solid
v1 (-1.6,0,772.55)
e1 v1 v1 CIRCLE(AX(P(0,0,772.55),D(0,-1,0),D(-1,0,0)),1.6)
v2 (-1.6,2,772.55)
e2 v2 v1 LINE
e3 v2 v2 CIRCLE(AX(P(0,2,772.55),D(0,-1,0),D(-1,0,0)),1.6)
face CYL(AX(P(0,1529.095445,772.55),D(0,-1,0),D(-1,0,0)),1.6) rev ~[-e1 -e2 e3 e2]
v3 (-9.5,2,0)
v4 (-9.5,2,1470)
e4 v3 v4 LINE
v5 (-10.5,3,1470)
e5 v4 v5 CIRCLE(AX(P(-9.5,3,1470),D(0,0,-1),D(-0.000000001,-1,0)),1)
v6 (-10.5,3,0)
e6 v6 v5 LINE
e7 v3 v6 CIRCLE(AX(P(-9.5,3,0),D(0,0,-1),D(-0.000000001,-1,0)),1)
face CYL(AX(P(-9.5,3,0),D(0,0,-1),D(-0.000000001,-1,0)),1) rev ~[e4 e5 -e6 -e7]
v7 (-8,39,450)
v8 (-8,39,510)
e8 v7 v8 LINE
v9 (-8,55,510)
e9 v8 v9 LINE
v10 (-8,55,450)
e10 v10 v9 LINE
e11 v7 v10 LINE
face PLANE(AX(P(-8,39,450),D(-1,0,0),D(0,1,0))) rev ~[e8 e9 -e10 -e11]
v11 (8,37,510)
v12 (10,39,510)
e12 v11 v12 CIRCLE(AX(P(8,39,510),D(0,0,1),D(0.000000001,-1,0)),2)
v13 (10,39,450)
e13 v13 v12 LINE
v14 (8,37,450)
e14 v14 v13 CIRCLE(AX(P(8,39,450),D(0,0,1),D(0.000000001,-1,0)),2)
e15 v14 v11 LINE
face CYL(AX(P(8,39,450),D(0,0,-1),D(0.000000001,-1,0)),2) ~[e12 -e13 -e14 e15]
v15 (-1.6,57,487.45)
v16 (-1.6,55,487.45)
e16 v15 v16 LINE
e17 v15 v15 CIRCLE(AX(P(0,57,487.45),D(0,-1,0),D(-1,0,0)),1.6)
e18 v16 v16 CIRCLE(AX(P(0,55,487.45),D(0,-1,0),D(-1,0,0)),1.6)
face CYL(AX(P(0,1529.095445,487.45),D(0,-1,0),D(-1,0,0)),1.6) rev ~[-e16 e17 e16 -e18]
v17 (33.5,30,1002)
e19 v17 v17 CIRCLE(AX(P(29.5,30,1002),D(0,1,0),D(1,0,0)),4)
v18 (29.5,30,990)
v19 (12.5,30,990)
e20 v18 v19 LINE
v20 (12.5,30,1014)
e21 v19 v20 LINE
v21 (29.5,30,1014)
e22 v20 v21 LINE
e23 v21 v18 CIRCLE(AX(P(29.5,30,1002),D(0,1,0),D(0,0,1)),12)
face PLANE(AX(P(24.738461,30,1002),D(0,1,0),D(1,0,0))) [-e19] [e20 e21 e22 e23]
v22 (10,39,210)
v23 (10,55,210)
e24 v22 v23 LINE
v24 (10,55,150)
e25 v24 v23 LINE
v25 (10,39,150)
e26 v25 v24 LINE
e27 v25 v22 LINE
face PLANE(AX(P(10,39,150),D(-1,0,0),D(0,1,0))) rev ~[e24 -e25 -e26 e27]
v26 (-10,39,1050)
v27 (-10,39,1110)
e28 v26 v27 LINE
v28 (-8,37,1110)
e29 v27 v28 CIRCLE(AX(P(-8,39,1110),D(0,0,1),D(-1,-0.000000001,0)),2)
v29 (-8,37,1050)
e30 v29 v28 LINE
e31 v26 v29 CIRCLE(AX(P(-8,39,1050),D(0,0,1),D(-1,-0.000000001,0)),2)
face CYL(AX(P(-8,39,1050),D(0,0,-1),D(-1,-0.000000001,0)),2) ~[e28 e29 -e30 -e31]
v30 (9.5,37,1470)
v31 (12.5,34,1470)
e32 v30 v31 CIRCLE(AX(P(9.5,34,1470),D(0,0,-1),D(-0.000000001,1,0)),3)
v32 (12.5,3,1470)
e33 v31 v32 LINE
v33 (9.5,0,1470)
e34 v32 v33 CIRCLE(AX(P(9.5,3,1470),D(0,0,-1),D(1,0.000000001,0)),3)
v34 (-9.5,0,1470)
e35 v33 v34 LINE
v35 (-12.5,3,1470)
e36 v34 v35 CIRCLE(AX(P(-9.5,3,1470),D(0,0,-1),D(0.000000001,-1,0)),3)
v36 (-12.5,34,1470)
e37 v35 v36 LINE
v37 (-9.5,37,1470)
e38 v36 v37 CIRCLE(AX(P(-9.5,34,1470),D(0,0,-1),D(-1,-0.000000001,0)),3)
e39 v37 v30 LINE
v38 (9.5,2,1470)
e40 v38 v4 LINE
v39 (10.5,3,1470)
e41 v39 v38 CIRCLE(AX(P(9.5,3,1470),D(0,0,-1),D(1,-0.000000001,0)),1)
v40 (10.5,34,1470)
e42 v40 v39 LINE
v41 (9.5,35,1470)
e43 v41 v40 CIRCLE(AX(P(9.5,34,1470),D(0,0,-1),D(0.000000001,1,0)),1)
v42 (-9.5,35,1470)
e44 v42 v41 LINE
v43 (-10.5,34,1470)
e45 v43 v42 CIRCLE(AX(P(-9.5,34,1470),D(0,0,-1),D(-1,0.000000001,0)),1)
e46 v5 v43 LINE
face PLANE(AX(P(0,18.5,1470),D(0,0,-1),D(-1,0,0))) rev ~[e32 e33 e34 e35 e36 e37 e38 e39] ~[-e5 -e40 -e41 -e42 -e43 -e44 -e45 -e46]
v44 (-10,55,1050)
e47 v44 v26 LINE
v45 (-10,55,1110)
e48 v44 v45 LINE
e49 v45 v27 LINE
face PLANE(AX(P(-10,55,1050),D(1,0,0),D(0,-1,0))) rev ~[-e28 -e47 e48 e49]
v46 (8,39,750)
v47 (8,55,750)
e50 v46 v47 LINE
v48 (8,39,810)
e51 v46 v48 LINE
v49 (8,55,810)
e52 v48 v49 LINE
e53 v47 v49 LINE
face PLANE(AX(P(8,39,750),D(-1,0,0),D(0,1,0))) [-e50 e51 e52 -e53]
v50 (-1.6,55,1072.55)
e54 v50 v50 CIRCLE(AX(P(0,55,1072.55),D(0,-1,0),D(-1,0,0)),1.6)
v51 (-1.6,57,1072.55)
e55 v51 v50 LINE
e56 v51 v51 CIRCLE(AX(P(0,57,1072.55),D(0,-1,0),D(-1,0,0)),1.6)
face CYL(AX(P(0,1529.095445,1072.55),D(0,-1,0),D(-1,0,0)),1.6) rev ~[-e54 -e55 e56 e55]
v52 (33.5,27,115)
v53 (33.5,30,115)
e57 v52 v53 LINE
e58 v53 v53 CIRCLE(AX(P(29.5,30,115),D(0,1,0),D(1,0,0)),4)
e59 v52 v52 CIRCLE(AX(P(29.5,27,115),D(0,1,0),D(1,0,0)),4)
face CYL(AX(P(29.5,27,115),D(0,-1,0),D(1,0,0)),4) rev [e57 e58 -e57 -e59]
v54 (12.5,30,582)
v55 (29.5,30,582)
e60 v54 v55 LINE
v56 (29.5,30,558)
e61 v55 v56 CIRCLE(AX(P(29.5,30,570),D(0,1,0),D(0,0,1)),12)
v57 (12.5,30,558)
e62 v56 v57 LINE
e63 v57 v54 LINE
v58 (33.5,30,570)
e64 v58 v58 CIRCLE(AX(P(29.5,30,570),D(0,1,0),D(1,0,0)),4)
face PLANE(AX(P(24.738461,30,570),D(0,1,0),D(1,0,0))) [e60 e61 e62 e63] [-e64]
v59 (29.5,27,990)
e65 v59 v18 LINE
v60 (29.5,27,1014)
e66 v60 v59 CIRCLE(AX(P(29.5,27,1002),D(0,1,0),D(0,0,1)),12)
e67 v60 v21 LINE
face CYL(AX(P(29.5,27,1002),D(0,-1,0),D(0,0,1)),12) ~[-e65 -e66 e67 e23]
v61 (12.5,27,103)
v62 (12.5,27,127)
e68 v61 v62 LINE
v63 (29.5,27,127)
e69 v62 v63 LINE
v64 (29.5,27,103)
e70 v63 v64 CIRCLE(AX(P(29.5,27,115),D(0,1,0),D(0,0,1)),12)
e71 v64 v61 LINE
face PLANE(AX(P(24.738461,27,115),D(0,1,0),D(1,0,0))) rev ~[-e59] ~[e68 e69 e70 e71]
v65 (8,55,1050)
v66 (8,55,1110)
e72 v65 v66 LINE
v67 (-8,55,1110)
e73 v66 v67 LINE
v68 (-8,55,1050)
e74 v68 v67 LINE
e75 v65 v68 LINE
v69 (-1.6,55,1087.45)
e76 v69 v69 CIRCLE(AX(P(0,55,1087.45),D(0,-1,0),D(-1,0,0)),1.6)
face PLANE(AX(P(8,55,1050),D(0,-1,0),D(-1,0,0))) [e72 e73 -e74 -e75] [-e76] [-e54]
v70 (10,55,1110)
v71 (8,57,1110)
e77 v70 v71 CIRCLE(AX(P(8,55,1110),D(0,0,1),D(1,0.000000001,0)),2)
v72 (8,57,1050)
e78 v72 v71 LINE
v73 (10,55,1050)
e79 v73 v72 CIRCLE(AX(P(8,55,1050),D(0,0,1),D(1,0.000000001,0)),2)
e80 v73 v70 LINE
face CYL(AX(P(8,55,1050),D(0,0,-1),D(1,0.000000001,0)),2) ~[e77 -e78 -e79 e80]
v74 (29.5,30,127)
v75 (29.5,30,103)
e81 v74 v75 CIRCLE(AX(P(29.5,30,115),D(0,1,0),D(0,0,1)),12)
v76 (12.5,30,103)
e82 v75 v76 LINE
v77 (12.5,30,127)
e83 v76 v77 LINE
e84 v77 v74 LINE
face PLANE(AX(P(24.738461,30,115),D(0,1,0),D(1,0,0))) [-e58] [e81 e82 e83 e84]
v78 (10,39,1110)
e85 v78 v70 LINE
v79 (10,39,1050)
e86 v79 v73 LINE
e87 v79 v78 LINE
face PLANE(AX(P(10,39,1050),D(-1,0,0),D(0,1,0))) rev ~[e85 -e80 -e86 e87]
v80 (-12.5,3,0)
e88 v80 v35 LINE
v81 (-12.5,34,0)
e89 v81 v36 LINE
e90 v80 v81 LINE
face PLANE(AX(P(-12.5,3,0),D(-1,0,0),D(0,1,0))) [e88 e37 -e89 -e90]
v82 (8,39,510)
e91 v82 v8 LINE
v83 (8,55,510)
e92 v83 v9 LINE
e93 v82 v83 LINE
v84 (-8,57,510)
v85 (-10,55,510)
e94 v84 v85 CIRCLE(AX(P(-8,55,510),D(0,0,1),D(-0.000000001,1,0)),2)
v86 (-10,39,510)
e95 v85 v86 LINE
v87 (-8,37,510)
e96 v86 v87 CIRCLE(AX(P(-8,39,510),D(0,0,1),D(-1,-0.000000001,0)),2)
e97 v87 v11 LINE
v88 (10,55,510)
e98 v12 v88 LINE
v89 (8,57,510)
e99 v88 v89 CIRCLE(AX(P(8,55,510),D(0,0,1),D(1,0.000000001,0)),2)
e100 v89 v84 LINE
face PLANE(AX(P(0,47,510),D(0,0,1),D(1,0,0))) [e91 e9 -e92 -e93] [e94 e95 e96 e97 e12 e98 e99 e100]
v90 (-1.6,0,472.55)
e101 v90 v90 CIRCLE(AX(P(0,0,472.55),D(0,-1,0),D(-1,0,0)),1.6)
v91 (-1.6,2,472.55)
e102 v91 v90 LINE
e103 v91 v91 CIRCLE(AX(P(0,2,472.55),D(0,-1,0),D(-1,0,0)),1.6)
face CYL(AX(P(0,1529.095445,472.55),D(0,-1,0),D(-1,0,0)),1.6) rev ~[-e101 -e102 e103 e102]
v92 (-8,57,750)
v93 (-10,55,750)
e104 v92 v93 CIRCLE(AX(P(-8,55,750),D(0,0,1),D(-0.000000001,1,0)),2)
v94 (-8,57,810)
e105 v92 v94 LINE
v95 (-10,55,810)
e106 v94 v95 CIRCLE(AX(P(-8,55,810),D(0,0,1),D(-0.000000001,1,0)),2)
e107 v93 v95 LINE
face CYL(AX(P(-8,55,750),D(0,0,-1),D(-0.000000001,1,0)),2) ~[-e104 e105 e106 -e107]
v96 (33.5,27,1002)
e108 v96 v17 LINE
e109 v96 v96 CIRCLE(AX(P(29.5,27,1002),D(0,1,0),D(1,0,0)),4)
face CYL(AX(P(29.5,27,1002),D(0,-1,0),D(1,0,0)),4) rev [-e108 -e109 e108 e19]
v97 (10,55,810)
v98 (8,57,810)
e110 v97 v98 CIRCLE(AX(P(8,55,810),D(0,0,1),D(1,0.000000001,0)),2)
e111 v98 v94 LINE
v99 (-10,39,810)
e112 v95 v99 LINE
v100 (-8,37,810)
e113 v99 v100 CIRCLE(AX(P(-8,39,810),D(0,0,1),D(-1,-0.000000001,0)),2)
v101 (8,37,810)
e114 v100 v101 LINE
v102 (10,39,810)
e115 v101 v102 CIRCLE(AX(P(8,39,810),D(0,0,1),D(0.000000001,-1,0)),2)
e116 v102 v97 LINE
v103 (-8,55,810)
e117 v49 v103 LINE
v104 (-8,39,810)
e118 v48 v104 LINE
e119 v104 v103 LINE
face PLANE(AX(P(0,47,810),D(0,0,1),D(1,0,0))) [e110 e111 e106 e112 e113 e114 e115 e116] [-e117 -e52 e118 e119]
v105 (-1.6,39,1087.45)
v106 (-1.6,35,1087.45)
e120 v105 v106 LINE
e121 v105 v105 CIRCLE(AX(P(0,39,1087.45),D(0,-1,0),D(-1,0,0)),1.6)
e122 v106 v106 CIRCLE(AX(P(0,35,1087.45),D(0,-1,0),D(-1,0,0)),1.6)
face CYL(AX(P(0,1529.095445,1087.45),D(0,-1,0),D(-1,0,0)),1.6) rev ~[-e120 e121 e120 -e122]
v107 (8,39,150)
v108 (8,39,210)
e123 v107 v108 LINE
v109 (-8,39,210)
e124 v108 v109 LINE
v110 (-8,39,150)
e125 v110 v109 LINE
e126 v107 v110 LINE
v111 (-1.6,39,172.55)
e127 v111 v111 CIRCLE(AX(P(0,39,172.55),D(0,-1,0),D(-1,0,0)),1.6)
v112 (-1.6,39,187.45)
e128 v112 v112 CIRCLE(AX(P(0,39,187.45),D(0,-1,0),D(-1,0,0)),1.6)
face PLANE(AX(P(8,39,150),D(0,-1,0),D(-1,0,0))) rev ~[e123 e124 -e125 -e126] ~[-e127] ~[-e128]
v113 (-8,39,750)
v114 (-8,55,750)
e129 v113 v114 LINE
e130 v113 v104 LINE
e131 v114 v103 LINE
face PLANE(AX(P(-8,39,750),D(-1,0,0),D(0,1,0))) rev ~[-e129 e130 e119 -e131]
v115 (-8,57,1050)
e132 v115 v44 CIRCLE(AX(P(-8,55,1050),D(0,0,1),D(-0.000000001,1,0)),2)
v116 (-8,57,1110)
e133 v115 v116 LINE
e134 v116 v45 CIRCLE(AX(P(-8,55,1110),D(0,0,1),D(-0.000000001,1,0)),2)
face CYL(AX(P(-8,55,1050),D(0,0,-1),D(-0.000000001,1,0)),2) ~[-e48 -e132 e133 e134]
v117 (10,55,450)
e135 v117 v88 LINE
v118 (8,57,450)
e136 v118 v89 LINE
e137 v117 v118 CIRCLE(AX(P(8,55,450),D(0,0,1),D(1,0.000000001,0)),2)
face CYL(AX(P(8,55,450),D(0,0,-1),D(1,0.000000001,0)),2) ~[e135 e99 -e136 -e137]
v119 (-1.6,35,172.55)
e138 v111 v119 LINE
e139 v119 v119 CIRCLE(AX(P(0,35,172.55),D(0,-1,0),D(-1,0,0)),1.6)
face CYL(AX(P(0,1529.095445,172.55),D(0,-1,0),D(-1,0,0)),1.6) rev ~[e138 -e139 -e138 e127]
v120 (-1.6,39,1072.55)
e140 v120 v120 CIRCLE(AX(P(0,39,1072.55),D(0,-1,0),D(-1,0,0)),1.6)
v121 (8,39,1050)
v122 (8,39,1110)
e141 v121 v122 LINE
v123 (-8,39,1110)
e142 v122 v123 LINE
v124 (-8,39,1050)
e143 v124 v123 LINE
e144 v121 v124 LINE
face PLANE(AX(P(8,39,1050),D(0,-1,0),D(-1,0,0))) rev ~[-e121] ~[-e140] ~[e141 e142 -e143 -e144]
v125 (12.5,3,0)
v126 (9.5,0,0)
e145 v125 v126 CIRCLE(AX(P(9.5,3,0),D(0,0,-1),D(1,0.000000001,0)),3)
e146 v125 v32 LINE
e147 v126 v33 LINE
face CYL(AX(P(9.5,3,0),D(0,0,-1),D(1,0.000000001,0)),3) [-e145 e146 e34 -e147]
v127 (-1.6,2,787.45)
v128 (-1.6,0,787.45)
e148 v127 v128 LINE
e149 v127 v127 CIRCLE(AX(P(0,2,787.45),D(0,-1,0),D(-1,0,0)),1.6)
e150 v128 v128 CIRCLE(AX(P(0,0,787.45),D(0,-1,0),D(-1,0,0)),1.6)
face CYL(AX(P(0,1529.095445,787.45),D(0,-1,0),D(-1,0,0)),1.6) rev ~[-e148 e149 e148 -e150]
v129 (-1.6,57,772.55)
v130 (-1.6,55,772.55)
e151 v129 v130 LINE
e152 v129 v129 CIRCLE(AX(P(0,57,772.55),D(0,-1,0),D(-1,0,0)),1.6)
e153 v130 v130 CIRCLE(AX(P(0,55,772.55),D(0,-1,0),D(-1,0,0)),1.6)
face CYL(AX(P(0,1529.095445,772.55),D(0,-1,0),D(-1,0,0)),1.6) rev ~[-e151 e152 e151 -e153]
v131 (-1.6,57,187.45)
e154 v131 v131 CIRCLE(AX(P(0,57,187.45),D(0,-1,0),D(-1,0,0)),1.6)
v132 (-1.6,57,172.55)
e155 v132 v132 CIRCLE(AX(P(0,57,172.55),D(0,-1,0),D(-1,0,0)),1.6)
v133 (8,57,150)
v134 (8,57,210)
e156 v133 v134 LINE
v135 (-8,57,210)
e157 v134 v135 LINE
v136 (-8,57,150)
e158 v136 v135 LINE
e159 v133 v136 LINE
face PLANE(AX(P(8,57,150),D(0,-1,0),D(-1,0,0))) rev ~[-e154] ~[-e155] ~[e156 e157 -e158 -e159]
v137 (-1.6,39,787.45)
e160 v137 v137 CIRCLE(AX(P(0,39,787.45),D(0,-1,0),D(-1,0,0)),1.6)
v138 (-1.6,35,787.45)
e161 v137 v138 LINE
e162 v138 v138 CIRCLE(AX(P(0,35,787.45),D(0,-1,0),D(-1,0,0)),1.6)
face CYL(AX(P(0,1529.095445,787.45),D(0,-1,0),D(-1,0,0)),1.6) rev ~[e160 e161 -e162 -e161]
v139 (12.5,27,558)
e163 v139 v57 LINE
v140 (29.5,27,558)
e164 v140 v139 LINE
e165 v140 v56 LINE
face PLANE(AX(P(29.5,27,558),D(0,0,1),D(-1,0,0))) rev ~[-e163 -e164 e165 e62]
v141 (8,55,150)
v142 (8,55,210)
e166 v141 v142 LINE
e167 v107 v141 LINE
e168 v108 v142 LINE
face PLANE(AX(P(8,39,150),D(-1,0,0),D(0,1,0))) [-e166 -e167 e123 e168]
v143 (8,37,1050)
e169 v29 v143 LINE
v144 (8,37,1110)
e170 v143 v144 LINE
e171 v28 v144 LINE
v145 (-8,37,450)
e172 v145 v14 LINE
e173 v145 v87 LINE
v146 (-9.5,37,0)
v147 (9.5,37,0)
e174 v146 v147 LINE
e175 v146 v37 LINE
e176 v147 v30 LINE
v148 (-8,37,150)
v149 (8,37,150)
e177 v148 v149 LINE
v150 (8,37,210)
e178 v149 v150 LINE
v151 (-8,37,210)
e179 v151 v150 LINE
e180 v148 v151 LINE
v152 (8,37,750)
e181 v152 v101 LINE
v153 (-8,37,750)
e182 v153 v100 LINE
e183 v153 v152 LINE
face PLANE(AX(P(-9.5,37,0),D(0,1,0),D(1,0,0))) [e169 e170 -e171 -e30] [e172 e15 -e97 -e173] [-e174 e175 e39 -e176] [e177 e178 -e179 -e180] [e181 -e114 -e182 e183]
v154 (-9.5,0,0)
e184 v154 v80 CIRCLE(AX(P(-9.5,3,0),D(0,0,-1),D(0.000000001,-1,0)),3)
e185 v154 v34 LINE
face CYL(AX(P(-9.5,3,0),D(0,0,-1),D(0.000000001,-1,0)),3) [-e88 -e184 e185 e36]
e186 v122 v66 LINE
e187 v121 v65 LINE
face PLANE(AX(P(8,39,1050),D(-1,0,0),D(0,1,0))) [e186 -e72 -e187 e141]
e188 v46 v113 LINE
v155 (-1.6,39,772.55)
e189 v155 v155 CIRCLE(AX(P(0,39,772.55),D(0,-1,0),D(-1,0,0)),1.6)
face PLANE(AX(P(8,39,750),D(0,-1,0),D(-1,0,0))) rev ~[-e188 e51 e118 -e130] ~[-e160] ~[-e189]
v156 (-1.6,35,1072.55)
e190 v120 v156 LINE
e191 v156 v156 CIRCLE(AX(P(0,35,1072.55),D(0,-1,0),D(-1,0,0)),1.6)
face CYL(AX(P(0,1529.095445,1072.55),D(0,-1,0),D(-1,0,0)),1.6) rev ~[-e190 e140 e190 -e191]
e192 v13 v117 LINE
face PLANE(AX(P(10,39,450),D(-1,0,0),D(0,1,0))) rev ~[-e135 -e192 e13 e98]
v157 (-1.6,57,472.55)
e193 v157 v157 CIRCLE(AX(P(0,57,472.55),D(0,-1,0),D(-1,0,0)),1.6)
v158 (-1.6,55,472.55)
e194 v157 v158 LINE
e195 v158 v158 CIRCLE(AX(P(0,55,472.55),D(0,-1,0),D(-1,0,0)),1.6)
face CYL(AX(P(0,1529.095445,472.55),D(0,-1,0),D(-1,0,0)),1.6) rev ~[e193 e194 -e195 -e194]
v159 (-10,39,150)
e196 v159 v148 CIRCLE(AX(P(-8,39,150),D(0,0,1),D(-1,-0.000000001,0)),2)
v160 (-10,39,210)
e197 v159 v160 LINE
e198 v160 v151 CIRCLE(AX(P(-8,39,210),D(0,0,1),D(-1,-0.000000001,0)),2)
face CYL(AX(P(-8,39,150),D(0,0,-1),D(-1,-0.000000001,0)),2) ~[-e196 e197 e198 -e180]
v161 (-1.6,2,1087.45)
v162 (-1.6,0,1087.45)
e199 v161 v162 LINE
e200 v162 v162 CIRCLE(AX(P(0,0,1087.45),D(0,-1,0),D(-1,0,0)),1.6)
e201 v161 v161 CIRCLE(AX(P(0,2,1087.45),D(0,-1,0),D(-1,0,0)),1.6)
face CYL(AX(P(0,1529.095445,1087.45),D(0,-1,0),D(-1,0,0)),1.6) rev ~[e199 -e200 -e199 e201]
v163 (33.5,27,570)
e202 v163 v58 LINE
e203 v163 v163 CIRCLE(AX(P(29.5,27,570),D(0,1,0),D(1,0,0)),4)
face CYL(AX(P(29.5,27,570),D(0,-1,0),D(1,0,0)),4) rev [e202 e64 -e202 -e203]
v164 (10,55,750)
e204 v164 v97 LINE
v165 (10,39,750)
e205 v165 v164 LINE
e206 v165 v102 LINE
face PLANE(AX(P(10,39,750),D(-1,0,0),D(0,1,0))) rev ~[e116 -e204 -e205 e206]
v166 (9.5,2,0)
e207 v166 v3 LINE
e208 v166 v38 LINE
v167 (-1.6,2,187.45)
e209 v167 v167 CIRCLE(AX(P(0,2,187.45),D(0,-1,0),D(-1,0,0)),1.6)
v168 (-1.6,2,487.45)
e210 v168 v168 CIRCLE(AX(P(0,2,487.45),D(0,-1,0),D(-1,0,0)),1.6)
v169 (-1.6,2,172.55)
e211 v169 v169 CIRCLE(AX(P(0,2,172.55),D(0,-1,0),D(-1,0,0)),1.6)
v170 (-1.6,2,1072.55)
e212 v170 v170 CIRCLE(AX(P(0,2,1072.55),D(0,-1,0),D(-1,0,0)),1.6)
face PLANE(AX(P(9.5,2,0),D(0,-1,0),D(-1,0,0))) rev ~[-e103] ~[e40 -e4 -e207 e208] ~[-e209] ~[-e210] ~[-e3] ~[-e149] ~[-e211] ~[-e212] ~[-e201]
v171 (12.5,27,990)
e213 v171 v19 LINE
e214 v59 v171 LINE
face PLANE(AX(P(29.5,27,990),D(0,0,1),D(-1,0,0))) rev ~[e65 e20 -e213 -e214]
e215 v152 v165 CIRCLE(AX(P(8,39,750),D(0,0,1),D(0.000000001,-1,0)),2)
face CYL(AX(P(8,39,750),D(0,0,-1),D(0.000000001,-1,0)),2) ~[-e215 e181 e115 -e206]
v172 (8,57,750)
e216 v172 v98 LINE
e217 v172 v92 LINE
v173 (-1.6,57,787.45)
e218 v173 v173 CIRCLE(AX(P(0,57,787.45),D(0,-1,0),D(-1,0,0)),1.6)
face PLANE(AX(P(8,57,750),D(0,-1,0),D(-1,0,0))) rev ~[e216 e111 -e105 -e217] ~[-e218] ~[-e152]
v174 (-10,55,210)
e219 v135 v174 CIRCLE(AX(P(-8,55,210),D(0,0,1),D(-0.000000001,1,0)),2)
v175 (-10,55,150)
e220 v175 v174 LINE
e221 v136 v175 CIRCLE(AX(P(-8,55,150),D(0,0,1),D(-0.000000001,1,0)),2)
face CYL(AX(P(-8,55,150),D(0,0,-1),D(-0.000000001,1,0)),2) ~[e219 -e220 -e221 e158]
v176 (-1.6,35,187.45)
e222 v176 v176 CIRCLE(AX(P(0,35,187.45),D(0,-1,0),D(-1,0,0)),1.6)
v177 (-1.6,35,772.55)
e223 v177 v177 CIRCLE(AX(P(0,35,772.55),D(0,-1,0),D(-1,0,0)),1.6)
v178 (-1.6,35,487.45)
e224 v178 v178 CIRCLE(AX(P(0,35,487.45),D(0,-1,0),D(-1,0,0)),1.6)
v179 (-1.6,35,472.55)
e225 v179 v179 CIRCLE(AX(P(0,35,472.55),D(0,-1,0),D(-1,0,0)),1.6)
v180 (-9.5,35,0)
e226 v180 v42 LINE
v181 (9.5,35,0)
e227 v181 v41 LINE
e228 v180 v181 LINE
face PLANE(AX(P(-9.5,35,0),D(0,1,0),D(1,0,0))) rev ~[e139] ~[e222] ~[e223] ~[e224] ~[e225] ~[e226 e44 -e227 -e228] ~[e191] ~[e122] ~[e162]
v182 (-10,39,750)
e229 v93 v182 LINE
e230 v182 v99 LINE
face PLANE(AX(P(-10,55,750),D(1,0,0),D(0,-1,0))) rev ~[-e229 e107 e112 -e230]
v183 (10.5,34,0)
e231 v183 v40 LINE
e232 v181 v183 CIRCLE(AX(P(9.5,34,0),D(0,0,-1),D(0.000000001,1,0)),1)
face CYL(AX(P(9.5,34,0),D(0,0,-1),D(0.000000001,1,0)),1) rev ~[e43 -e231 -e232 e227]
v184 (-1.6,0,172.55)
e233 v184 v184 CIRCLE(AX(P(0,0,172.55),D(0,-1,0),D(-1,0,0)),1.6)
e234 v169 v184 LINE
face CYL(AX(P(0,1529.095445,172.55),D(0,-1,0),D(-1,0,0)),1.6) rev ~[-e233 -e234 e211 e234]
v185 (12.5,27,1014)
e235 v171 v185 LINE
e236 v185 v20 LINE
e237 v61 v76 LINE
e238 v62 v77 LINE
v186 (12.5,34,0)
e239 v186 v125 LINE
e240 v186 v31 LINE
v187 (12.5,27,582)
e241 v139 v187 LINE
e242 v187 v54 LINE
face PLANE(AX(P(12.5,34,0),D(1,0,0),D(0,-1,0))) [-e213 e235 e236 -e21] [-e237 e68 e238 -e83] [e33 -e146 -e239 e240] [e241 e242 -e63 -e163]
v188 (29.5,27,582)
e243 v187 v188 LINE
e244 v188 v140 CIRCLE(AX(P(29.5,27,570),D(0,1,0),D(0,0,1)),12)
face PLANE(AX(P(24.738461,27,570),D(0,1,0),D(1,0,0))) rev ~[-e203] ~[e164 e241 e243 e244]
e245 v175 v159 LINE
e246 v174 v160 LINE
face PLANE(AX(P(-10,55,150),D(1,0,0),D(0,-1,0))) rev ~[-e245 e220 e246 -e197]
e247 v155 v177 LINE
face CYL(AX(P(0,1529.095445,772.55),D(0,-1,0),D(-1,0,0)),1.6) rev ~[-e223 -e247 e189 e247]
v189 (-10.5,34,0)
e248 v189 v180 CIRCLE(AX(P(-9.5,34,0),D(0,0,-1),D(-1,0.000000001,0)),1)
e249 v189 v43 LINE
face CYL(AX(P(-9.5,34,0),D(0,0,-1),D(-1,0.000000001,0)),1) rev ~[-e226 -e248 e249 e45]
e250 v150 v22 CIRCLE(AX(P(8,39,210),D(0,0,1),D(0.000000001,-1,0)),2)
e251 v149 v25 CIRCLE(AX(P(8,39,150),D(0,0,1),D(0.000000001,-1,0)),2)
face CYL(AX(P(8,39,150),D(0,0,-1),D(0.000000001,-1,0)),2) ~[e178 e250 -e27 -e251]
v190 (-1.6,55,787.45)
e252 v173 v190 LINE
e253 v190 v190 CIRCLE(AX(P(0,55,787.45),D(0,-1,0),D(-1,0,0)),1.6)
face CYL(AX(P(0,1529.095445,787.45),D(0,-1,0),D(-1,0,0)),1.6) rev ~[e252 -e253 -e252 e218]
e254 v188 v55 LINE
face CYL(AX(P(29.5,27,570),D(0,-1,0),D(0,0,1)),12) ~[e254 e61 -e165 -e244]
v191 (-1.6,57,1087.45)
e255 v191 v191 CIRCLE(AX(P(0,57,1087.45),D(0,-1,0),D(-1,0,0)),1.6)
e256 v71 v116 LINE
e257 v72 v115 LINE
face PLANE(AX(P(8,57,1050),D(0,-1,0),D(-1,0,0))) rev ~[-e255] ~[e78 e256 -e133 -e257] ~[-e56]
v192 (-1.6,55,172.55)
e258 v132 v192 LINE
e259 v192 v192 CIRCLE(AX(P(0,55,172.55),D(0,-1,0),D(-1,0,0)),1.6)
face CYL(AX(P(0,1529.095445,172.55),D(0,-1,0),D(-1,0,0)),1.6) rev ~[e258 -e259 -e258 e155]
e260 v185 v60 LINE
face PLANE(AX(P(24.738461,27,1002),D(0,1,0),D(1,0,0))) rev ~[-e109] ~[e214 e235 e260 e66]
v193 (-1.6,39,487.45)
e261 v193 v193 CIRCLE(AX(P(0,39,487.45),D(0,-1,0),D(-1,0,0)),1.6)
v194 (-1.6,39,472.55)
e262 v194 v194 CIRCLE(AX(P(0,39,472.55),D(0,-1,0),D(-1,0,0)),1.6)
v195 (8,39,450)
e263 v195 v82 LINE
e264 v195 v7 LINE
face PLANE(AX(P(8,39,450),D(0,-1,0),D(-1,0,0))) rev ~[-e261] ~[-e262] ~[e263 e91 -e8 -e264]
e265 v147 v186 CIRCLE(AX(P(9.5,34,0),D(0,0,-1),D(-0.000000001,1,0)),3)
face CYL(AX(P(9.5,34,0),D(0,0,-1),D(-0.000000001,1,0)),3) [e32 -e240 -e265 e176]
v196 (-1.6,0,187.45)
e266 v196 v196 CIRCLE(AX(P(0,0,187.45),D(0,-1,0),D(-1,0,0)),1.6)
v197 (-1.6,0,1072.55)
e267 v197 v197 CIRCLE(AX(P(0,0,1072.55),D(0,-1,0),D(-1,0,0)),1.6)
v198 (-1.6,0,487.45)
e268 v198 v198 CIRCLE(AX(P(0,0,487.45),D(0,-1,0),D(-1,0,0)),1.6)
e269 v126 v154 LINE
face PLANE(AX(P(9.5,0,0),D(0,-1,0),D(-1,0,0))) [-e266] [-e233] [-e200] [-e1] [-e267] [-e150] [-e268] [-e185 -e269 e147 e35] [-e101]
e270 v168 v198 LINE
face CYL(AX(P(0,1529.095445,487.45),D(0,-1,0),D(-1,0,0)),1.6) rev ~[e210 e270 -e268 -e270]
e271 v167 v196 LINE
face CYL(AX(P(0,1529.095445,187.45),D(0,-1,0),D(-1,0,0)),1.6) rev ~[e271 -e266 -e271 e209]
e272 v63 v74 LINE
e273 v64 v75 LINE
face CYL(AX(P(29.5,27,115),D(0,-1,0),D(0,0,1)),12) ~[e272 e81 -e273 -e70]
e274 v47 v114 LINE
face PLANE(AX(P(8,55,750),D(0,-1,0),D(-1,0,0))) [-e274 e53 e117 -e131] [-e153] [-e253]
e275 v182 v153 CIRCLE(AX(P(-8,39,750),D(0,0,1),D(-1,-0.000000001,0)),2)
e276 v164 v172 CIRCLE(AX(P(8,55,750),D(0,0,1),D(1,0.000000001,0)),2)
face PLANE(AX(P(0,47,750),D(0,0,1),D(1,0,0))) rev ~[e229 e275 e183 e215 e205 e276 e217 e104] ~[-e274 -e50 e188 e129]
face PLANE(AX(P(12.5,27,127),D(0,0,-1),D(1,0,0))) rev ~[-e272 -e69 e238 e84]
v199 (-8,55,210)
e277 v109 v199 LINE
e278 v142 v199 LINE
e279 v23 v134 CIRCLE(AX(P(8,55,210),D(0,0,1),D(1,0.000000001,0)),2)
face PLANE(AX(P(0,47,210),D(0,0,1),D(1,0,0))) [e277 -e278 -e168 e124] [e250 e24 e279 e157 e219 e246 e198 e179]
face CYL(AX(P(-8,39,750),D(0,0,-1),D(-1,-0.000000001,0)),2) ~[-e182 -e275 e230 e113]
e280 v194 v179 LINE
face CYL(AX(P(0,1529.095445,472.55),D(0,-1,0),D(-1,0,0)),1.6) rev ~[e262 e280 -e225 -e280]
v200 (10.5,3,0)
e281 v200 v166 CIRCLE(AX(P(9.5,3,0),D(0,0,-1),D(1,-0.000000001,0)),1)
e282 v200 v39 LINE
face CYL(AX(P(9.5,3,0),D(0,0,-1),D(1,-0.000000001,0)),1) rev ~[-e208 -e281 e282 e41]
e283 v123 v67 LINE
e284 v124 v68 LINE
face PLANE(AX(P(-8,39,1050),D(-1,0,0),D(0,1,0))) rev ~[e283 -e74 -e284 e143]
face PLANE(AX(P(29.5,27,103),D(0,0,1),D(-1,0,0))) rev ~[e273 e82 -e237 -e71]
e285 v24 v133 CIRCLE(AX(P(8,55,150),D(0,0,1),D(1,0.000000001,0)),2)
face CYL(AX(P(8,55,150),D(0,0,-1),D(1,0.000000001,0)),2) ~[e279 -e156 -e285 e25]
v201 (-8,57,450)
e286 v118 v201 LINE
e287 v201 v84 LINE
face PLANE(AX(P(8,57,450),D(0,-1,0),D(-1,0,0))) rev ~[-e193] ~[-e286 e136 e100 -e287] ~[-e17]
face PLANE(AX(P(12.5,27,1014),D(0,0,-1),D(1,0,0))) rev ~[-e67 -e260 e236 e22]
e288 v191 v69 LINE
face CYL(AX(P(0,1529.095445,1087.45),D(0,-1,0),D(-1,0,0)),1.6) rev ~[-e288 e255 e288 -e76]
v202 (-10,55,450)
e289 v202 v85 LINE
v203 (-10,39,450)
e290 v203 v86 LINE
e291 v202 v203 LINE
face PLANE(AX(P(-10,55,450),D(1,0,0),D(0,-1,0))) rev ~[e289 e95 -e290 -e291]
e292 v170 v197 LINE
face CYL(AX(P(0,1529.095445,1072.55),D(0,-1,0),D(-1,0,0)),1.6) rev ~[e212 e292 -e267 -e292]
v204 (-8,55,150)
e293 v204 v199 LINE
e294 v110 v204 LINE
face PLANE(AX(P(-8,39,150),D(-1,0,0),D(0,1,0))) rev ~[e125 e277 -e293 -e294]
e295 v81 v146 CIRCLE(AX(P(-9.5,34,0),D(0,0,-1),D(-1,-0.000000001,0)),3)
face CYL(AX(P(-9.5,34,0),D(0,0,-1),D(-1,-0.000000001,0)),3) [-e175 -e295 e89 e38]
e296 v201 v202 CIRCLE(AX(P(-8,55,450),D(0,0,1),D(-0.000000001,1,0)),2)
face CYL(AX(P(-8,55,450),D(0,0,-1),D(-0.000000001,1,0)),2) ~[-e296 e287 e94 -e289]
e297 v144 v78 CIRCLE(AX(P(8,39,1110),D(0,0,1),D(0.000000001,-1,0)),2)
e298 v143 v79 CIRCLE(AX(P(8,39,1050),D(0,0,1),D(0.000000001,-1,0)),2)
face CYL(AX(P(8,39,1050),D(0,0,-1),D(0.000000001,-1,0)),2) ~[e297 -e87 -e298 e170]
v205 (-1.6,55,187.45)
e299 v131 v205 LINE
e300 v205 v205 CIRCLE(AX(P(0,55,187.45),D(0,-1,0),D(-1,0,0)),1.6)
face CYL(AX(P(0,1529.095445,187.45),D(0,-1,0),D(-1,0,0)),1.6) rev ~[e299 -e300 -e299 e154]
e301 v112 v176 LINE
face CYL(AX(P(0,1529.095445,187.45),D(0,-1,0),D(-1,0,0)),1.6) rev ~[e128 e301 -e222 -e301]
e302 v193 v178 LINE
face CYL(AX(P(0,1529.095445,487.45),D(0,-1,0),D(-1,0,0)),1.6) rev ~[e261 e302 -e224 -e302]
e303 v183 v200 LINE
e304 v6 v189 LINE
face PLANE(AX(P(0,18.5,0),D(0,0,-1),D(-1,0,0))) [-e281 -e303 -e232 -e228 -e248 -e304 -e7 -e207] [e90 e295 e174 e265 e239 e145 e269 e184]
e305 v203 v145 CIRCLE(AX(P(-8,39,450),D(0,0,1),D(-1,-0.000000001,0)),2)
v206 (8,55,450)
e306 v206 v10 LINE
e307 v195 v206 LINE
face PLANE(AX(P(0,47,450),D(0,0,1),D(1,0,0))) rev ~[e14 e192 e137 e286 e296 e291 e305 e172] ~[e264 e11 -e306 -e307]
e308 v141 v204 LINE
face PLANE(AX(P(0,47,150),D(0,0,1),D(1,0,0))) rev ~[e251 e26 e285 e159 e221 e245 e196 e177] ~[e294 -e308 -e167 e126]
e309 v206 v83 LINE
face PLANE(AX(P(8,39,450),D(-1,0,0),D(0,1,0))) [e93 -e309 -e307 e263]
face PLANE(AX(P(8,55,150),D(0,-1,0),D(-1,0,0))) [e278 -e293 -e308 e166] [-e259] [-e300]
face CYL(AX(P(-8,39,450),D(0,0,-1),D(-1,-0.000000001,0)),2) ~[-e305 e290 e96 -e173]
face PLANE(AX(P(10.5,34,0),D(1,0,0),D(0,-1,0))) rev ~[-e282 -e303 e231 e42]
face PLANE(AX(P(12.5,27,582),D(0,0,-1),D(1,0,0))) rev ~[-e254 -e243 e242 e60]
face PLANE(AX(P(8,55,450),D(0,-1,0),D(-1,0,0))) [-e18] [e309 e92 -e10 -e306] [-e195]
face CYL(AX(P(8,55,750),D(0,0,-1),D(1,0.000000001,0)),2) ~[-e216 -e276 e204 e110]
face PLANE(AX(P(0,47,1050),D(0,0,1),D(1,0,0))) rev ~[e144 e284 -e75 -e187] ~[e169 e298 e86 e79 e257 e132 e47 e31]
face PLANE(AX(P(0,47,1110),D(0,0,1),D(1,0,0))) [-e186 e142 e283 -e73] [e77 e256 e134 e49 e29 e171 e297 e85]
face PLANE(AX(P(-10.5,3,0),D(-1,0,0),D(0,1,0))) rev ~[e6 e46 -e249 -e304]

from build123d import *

# Parameters (mm, degrees)
EXTRUDE_THIN1_DEPTH  = 1470
SKETCH2_R            = 4
BOSS_EXTRUDE1_DEPTH  = 3
SKETCH3_W            = 16
SKETCH3_H            = 16
EXTRUDE_THIN2_DEPTH  = 60
M3_CLEARANCE_HOLE1_D = 3.2
LPATTERN1_COUNT      = 4
LPATTERN1_PITCH      = 300


with BuildPart() as part:
    # Sketch1 → Extrude-Thin1 (new body)
    with BuildSketch(Plane.XY):
        with BuildLine():
            Line((-9.5, 37), (9.5, 37))
            ThreePointArc((9.5, 37), (11.621320344, 36.121320344), (12.5, 34))
            Line((12.5, 34), (12.5, 3))
            ThreePointArc((12.5, 3), (11.621320344, 0.878679656), (9.5, 0))
            Line((9.5, 0), (-9.5, 0))
            ThreePointArc((-9.5, 0), (-11.621320344, 0.878679656), (-12.5, 3))
            Line((-12.5, 3), (-12.5, 34))
            ThreePointArc((-12.5, 34), (-11.621320344, 36.121320344), (-9.5, 37))
        make_face()
        with BuildLine():
            Line((-9.5, 35), (9.5, 35))
            ThreePointArc((9.5, 35), (10.207106781, 34.707106781), (10.5, 34))
            Line((10.5, 34), (10.5, 3))
            ThreePointArc((10.5, 3), (10.207106781, 2.292893219), (9.5, 2))
            Line((9.5, 2), (-9.5, 2))
            ThreePointArc((-9.5, 2), (-10.207106781, 2.292893219), (-10.5, 3))
            Line((-10.5, 3), (-10.5, 34))
            ThreePointArc((-10.5, 34), (-10.207106781, 34.707106781), (-9.5, 35))
        make_face(mode=Mode.SUBTRACT)
    extrude(amount=EXTRUDE_THIN1_DEPTH)

    # Sketch2 → Boss-Extrude1 (add)
    with BuildSketch(Plane(origin=(0, 27, 0), x_dir=(1, 0, 0), z_dir=(0, 1, 0))):
        with BuildLine():
            Line((29.5, -103), (12.5, -103))
            Line((12.5, -103), (12.5, -127))
            Line((12.5, -127), (29.5, -127))
            ThreePointArc((29.5, -127), (41.5, -115), (29.5, -103))
        make_face()
        with Locations((29.5, -115)):
            Circle(SKETCH2_R, mode=Mode.SUBTRACT)
        with BuildLine():
            Line((29.5, -558), (12.5, -558))
            Line((12.5, -558), (12.5, -582))
            Line((12.5, -582), (29.5, -582))
            ThreePointArc((29.5, -582), (41.5, -570), (29.5, -558))
        make_face()
        with Locations((29.5, -570)):
            Circle(SKETCH2_R, mode=Mode.SUBTRACT)
        with BuildLine():
            Line((29.5, -990), (12.5, -990))
            Line((12.5, -990), (12.5, -1014))
            Line((12.5, -1014), (29.5, -1014))
            ThreePointArc((29.5, -1014), (41.5, -1002), (29.5, -990))
        make_face()
        with Locations((29.5, -1002)):
            Circle(SKETCH2_R, mode=Mode.SUBTRACT)
    extrude(amount=BOSS_EXTRUDE1_DEPTH)

    # Sketch3 → Extrude-Thin2 (add)
    with BuildSketch(Plane(origin=(0, 0, 150), x_dir=(-1, 0, 0), z_dir=(0, 0, -1))):
        with BuildLine():
            Line((10, 55), (10, 39))
            ThreePointArc((10, 39), (9.414213562, 37.585786438), (8, 37))
            Line((8, 37), (-8, 37))
            ThreePointArc((-8, 37), (-9.414213562, 37.585786438), (-10, 39))
            Line((-10, 39), (-10, 55))
            ThreePointArc((-10, 55), (-9.414213562, 56.414213562), (-8, 57))
            Line((-8, 57), (8, 57))
            ThreePointArc((8, 57), (9.414213562, 56.414213562), (10, 55))
        make_face()
        with Locations((0, 47)):
            Rectangle(SKETCH3_W, SKETCH3_H, mode=Mode.SUBTRACT)
    extrude_thin2 = extrude(amount=-EXTRUDE_THIN2_DEPTH)

    # M3 Clearance Hole1 (through all)
    with Locations(Plane(origin=(0, 57, 0), x_dir=(1, 0, 0), z_dir=(0, 1, 0))):
        with Locations((0, -187.45), (0, -172.55)):
            m3_clearance_hole1 = Hole(M3_CLEARANCE_HOLE1_D / 2)

    # LPattern1: Extrude-Thin2, M3 Clearance Hole1 ×4
    with Locations(*[(0, 0, i * LPATTERN1_PITCH) for i in range(1, LPATTERN1_COUNT)]):
        add(extrude_thin2)
        add(m3_clearance_hole1, mode=Mode.SUBTRACT)


solid = part.part
